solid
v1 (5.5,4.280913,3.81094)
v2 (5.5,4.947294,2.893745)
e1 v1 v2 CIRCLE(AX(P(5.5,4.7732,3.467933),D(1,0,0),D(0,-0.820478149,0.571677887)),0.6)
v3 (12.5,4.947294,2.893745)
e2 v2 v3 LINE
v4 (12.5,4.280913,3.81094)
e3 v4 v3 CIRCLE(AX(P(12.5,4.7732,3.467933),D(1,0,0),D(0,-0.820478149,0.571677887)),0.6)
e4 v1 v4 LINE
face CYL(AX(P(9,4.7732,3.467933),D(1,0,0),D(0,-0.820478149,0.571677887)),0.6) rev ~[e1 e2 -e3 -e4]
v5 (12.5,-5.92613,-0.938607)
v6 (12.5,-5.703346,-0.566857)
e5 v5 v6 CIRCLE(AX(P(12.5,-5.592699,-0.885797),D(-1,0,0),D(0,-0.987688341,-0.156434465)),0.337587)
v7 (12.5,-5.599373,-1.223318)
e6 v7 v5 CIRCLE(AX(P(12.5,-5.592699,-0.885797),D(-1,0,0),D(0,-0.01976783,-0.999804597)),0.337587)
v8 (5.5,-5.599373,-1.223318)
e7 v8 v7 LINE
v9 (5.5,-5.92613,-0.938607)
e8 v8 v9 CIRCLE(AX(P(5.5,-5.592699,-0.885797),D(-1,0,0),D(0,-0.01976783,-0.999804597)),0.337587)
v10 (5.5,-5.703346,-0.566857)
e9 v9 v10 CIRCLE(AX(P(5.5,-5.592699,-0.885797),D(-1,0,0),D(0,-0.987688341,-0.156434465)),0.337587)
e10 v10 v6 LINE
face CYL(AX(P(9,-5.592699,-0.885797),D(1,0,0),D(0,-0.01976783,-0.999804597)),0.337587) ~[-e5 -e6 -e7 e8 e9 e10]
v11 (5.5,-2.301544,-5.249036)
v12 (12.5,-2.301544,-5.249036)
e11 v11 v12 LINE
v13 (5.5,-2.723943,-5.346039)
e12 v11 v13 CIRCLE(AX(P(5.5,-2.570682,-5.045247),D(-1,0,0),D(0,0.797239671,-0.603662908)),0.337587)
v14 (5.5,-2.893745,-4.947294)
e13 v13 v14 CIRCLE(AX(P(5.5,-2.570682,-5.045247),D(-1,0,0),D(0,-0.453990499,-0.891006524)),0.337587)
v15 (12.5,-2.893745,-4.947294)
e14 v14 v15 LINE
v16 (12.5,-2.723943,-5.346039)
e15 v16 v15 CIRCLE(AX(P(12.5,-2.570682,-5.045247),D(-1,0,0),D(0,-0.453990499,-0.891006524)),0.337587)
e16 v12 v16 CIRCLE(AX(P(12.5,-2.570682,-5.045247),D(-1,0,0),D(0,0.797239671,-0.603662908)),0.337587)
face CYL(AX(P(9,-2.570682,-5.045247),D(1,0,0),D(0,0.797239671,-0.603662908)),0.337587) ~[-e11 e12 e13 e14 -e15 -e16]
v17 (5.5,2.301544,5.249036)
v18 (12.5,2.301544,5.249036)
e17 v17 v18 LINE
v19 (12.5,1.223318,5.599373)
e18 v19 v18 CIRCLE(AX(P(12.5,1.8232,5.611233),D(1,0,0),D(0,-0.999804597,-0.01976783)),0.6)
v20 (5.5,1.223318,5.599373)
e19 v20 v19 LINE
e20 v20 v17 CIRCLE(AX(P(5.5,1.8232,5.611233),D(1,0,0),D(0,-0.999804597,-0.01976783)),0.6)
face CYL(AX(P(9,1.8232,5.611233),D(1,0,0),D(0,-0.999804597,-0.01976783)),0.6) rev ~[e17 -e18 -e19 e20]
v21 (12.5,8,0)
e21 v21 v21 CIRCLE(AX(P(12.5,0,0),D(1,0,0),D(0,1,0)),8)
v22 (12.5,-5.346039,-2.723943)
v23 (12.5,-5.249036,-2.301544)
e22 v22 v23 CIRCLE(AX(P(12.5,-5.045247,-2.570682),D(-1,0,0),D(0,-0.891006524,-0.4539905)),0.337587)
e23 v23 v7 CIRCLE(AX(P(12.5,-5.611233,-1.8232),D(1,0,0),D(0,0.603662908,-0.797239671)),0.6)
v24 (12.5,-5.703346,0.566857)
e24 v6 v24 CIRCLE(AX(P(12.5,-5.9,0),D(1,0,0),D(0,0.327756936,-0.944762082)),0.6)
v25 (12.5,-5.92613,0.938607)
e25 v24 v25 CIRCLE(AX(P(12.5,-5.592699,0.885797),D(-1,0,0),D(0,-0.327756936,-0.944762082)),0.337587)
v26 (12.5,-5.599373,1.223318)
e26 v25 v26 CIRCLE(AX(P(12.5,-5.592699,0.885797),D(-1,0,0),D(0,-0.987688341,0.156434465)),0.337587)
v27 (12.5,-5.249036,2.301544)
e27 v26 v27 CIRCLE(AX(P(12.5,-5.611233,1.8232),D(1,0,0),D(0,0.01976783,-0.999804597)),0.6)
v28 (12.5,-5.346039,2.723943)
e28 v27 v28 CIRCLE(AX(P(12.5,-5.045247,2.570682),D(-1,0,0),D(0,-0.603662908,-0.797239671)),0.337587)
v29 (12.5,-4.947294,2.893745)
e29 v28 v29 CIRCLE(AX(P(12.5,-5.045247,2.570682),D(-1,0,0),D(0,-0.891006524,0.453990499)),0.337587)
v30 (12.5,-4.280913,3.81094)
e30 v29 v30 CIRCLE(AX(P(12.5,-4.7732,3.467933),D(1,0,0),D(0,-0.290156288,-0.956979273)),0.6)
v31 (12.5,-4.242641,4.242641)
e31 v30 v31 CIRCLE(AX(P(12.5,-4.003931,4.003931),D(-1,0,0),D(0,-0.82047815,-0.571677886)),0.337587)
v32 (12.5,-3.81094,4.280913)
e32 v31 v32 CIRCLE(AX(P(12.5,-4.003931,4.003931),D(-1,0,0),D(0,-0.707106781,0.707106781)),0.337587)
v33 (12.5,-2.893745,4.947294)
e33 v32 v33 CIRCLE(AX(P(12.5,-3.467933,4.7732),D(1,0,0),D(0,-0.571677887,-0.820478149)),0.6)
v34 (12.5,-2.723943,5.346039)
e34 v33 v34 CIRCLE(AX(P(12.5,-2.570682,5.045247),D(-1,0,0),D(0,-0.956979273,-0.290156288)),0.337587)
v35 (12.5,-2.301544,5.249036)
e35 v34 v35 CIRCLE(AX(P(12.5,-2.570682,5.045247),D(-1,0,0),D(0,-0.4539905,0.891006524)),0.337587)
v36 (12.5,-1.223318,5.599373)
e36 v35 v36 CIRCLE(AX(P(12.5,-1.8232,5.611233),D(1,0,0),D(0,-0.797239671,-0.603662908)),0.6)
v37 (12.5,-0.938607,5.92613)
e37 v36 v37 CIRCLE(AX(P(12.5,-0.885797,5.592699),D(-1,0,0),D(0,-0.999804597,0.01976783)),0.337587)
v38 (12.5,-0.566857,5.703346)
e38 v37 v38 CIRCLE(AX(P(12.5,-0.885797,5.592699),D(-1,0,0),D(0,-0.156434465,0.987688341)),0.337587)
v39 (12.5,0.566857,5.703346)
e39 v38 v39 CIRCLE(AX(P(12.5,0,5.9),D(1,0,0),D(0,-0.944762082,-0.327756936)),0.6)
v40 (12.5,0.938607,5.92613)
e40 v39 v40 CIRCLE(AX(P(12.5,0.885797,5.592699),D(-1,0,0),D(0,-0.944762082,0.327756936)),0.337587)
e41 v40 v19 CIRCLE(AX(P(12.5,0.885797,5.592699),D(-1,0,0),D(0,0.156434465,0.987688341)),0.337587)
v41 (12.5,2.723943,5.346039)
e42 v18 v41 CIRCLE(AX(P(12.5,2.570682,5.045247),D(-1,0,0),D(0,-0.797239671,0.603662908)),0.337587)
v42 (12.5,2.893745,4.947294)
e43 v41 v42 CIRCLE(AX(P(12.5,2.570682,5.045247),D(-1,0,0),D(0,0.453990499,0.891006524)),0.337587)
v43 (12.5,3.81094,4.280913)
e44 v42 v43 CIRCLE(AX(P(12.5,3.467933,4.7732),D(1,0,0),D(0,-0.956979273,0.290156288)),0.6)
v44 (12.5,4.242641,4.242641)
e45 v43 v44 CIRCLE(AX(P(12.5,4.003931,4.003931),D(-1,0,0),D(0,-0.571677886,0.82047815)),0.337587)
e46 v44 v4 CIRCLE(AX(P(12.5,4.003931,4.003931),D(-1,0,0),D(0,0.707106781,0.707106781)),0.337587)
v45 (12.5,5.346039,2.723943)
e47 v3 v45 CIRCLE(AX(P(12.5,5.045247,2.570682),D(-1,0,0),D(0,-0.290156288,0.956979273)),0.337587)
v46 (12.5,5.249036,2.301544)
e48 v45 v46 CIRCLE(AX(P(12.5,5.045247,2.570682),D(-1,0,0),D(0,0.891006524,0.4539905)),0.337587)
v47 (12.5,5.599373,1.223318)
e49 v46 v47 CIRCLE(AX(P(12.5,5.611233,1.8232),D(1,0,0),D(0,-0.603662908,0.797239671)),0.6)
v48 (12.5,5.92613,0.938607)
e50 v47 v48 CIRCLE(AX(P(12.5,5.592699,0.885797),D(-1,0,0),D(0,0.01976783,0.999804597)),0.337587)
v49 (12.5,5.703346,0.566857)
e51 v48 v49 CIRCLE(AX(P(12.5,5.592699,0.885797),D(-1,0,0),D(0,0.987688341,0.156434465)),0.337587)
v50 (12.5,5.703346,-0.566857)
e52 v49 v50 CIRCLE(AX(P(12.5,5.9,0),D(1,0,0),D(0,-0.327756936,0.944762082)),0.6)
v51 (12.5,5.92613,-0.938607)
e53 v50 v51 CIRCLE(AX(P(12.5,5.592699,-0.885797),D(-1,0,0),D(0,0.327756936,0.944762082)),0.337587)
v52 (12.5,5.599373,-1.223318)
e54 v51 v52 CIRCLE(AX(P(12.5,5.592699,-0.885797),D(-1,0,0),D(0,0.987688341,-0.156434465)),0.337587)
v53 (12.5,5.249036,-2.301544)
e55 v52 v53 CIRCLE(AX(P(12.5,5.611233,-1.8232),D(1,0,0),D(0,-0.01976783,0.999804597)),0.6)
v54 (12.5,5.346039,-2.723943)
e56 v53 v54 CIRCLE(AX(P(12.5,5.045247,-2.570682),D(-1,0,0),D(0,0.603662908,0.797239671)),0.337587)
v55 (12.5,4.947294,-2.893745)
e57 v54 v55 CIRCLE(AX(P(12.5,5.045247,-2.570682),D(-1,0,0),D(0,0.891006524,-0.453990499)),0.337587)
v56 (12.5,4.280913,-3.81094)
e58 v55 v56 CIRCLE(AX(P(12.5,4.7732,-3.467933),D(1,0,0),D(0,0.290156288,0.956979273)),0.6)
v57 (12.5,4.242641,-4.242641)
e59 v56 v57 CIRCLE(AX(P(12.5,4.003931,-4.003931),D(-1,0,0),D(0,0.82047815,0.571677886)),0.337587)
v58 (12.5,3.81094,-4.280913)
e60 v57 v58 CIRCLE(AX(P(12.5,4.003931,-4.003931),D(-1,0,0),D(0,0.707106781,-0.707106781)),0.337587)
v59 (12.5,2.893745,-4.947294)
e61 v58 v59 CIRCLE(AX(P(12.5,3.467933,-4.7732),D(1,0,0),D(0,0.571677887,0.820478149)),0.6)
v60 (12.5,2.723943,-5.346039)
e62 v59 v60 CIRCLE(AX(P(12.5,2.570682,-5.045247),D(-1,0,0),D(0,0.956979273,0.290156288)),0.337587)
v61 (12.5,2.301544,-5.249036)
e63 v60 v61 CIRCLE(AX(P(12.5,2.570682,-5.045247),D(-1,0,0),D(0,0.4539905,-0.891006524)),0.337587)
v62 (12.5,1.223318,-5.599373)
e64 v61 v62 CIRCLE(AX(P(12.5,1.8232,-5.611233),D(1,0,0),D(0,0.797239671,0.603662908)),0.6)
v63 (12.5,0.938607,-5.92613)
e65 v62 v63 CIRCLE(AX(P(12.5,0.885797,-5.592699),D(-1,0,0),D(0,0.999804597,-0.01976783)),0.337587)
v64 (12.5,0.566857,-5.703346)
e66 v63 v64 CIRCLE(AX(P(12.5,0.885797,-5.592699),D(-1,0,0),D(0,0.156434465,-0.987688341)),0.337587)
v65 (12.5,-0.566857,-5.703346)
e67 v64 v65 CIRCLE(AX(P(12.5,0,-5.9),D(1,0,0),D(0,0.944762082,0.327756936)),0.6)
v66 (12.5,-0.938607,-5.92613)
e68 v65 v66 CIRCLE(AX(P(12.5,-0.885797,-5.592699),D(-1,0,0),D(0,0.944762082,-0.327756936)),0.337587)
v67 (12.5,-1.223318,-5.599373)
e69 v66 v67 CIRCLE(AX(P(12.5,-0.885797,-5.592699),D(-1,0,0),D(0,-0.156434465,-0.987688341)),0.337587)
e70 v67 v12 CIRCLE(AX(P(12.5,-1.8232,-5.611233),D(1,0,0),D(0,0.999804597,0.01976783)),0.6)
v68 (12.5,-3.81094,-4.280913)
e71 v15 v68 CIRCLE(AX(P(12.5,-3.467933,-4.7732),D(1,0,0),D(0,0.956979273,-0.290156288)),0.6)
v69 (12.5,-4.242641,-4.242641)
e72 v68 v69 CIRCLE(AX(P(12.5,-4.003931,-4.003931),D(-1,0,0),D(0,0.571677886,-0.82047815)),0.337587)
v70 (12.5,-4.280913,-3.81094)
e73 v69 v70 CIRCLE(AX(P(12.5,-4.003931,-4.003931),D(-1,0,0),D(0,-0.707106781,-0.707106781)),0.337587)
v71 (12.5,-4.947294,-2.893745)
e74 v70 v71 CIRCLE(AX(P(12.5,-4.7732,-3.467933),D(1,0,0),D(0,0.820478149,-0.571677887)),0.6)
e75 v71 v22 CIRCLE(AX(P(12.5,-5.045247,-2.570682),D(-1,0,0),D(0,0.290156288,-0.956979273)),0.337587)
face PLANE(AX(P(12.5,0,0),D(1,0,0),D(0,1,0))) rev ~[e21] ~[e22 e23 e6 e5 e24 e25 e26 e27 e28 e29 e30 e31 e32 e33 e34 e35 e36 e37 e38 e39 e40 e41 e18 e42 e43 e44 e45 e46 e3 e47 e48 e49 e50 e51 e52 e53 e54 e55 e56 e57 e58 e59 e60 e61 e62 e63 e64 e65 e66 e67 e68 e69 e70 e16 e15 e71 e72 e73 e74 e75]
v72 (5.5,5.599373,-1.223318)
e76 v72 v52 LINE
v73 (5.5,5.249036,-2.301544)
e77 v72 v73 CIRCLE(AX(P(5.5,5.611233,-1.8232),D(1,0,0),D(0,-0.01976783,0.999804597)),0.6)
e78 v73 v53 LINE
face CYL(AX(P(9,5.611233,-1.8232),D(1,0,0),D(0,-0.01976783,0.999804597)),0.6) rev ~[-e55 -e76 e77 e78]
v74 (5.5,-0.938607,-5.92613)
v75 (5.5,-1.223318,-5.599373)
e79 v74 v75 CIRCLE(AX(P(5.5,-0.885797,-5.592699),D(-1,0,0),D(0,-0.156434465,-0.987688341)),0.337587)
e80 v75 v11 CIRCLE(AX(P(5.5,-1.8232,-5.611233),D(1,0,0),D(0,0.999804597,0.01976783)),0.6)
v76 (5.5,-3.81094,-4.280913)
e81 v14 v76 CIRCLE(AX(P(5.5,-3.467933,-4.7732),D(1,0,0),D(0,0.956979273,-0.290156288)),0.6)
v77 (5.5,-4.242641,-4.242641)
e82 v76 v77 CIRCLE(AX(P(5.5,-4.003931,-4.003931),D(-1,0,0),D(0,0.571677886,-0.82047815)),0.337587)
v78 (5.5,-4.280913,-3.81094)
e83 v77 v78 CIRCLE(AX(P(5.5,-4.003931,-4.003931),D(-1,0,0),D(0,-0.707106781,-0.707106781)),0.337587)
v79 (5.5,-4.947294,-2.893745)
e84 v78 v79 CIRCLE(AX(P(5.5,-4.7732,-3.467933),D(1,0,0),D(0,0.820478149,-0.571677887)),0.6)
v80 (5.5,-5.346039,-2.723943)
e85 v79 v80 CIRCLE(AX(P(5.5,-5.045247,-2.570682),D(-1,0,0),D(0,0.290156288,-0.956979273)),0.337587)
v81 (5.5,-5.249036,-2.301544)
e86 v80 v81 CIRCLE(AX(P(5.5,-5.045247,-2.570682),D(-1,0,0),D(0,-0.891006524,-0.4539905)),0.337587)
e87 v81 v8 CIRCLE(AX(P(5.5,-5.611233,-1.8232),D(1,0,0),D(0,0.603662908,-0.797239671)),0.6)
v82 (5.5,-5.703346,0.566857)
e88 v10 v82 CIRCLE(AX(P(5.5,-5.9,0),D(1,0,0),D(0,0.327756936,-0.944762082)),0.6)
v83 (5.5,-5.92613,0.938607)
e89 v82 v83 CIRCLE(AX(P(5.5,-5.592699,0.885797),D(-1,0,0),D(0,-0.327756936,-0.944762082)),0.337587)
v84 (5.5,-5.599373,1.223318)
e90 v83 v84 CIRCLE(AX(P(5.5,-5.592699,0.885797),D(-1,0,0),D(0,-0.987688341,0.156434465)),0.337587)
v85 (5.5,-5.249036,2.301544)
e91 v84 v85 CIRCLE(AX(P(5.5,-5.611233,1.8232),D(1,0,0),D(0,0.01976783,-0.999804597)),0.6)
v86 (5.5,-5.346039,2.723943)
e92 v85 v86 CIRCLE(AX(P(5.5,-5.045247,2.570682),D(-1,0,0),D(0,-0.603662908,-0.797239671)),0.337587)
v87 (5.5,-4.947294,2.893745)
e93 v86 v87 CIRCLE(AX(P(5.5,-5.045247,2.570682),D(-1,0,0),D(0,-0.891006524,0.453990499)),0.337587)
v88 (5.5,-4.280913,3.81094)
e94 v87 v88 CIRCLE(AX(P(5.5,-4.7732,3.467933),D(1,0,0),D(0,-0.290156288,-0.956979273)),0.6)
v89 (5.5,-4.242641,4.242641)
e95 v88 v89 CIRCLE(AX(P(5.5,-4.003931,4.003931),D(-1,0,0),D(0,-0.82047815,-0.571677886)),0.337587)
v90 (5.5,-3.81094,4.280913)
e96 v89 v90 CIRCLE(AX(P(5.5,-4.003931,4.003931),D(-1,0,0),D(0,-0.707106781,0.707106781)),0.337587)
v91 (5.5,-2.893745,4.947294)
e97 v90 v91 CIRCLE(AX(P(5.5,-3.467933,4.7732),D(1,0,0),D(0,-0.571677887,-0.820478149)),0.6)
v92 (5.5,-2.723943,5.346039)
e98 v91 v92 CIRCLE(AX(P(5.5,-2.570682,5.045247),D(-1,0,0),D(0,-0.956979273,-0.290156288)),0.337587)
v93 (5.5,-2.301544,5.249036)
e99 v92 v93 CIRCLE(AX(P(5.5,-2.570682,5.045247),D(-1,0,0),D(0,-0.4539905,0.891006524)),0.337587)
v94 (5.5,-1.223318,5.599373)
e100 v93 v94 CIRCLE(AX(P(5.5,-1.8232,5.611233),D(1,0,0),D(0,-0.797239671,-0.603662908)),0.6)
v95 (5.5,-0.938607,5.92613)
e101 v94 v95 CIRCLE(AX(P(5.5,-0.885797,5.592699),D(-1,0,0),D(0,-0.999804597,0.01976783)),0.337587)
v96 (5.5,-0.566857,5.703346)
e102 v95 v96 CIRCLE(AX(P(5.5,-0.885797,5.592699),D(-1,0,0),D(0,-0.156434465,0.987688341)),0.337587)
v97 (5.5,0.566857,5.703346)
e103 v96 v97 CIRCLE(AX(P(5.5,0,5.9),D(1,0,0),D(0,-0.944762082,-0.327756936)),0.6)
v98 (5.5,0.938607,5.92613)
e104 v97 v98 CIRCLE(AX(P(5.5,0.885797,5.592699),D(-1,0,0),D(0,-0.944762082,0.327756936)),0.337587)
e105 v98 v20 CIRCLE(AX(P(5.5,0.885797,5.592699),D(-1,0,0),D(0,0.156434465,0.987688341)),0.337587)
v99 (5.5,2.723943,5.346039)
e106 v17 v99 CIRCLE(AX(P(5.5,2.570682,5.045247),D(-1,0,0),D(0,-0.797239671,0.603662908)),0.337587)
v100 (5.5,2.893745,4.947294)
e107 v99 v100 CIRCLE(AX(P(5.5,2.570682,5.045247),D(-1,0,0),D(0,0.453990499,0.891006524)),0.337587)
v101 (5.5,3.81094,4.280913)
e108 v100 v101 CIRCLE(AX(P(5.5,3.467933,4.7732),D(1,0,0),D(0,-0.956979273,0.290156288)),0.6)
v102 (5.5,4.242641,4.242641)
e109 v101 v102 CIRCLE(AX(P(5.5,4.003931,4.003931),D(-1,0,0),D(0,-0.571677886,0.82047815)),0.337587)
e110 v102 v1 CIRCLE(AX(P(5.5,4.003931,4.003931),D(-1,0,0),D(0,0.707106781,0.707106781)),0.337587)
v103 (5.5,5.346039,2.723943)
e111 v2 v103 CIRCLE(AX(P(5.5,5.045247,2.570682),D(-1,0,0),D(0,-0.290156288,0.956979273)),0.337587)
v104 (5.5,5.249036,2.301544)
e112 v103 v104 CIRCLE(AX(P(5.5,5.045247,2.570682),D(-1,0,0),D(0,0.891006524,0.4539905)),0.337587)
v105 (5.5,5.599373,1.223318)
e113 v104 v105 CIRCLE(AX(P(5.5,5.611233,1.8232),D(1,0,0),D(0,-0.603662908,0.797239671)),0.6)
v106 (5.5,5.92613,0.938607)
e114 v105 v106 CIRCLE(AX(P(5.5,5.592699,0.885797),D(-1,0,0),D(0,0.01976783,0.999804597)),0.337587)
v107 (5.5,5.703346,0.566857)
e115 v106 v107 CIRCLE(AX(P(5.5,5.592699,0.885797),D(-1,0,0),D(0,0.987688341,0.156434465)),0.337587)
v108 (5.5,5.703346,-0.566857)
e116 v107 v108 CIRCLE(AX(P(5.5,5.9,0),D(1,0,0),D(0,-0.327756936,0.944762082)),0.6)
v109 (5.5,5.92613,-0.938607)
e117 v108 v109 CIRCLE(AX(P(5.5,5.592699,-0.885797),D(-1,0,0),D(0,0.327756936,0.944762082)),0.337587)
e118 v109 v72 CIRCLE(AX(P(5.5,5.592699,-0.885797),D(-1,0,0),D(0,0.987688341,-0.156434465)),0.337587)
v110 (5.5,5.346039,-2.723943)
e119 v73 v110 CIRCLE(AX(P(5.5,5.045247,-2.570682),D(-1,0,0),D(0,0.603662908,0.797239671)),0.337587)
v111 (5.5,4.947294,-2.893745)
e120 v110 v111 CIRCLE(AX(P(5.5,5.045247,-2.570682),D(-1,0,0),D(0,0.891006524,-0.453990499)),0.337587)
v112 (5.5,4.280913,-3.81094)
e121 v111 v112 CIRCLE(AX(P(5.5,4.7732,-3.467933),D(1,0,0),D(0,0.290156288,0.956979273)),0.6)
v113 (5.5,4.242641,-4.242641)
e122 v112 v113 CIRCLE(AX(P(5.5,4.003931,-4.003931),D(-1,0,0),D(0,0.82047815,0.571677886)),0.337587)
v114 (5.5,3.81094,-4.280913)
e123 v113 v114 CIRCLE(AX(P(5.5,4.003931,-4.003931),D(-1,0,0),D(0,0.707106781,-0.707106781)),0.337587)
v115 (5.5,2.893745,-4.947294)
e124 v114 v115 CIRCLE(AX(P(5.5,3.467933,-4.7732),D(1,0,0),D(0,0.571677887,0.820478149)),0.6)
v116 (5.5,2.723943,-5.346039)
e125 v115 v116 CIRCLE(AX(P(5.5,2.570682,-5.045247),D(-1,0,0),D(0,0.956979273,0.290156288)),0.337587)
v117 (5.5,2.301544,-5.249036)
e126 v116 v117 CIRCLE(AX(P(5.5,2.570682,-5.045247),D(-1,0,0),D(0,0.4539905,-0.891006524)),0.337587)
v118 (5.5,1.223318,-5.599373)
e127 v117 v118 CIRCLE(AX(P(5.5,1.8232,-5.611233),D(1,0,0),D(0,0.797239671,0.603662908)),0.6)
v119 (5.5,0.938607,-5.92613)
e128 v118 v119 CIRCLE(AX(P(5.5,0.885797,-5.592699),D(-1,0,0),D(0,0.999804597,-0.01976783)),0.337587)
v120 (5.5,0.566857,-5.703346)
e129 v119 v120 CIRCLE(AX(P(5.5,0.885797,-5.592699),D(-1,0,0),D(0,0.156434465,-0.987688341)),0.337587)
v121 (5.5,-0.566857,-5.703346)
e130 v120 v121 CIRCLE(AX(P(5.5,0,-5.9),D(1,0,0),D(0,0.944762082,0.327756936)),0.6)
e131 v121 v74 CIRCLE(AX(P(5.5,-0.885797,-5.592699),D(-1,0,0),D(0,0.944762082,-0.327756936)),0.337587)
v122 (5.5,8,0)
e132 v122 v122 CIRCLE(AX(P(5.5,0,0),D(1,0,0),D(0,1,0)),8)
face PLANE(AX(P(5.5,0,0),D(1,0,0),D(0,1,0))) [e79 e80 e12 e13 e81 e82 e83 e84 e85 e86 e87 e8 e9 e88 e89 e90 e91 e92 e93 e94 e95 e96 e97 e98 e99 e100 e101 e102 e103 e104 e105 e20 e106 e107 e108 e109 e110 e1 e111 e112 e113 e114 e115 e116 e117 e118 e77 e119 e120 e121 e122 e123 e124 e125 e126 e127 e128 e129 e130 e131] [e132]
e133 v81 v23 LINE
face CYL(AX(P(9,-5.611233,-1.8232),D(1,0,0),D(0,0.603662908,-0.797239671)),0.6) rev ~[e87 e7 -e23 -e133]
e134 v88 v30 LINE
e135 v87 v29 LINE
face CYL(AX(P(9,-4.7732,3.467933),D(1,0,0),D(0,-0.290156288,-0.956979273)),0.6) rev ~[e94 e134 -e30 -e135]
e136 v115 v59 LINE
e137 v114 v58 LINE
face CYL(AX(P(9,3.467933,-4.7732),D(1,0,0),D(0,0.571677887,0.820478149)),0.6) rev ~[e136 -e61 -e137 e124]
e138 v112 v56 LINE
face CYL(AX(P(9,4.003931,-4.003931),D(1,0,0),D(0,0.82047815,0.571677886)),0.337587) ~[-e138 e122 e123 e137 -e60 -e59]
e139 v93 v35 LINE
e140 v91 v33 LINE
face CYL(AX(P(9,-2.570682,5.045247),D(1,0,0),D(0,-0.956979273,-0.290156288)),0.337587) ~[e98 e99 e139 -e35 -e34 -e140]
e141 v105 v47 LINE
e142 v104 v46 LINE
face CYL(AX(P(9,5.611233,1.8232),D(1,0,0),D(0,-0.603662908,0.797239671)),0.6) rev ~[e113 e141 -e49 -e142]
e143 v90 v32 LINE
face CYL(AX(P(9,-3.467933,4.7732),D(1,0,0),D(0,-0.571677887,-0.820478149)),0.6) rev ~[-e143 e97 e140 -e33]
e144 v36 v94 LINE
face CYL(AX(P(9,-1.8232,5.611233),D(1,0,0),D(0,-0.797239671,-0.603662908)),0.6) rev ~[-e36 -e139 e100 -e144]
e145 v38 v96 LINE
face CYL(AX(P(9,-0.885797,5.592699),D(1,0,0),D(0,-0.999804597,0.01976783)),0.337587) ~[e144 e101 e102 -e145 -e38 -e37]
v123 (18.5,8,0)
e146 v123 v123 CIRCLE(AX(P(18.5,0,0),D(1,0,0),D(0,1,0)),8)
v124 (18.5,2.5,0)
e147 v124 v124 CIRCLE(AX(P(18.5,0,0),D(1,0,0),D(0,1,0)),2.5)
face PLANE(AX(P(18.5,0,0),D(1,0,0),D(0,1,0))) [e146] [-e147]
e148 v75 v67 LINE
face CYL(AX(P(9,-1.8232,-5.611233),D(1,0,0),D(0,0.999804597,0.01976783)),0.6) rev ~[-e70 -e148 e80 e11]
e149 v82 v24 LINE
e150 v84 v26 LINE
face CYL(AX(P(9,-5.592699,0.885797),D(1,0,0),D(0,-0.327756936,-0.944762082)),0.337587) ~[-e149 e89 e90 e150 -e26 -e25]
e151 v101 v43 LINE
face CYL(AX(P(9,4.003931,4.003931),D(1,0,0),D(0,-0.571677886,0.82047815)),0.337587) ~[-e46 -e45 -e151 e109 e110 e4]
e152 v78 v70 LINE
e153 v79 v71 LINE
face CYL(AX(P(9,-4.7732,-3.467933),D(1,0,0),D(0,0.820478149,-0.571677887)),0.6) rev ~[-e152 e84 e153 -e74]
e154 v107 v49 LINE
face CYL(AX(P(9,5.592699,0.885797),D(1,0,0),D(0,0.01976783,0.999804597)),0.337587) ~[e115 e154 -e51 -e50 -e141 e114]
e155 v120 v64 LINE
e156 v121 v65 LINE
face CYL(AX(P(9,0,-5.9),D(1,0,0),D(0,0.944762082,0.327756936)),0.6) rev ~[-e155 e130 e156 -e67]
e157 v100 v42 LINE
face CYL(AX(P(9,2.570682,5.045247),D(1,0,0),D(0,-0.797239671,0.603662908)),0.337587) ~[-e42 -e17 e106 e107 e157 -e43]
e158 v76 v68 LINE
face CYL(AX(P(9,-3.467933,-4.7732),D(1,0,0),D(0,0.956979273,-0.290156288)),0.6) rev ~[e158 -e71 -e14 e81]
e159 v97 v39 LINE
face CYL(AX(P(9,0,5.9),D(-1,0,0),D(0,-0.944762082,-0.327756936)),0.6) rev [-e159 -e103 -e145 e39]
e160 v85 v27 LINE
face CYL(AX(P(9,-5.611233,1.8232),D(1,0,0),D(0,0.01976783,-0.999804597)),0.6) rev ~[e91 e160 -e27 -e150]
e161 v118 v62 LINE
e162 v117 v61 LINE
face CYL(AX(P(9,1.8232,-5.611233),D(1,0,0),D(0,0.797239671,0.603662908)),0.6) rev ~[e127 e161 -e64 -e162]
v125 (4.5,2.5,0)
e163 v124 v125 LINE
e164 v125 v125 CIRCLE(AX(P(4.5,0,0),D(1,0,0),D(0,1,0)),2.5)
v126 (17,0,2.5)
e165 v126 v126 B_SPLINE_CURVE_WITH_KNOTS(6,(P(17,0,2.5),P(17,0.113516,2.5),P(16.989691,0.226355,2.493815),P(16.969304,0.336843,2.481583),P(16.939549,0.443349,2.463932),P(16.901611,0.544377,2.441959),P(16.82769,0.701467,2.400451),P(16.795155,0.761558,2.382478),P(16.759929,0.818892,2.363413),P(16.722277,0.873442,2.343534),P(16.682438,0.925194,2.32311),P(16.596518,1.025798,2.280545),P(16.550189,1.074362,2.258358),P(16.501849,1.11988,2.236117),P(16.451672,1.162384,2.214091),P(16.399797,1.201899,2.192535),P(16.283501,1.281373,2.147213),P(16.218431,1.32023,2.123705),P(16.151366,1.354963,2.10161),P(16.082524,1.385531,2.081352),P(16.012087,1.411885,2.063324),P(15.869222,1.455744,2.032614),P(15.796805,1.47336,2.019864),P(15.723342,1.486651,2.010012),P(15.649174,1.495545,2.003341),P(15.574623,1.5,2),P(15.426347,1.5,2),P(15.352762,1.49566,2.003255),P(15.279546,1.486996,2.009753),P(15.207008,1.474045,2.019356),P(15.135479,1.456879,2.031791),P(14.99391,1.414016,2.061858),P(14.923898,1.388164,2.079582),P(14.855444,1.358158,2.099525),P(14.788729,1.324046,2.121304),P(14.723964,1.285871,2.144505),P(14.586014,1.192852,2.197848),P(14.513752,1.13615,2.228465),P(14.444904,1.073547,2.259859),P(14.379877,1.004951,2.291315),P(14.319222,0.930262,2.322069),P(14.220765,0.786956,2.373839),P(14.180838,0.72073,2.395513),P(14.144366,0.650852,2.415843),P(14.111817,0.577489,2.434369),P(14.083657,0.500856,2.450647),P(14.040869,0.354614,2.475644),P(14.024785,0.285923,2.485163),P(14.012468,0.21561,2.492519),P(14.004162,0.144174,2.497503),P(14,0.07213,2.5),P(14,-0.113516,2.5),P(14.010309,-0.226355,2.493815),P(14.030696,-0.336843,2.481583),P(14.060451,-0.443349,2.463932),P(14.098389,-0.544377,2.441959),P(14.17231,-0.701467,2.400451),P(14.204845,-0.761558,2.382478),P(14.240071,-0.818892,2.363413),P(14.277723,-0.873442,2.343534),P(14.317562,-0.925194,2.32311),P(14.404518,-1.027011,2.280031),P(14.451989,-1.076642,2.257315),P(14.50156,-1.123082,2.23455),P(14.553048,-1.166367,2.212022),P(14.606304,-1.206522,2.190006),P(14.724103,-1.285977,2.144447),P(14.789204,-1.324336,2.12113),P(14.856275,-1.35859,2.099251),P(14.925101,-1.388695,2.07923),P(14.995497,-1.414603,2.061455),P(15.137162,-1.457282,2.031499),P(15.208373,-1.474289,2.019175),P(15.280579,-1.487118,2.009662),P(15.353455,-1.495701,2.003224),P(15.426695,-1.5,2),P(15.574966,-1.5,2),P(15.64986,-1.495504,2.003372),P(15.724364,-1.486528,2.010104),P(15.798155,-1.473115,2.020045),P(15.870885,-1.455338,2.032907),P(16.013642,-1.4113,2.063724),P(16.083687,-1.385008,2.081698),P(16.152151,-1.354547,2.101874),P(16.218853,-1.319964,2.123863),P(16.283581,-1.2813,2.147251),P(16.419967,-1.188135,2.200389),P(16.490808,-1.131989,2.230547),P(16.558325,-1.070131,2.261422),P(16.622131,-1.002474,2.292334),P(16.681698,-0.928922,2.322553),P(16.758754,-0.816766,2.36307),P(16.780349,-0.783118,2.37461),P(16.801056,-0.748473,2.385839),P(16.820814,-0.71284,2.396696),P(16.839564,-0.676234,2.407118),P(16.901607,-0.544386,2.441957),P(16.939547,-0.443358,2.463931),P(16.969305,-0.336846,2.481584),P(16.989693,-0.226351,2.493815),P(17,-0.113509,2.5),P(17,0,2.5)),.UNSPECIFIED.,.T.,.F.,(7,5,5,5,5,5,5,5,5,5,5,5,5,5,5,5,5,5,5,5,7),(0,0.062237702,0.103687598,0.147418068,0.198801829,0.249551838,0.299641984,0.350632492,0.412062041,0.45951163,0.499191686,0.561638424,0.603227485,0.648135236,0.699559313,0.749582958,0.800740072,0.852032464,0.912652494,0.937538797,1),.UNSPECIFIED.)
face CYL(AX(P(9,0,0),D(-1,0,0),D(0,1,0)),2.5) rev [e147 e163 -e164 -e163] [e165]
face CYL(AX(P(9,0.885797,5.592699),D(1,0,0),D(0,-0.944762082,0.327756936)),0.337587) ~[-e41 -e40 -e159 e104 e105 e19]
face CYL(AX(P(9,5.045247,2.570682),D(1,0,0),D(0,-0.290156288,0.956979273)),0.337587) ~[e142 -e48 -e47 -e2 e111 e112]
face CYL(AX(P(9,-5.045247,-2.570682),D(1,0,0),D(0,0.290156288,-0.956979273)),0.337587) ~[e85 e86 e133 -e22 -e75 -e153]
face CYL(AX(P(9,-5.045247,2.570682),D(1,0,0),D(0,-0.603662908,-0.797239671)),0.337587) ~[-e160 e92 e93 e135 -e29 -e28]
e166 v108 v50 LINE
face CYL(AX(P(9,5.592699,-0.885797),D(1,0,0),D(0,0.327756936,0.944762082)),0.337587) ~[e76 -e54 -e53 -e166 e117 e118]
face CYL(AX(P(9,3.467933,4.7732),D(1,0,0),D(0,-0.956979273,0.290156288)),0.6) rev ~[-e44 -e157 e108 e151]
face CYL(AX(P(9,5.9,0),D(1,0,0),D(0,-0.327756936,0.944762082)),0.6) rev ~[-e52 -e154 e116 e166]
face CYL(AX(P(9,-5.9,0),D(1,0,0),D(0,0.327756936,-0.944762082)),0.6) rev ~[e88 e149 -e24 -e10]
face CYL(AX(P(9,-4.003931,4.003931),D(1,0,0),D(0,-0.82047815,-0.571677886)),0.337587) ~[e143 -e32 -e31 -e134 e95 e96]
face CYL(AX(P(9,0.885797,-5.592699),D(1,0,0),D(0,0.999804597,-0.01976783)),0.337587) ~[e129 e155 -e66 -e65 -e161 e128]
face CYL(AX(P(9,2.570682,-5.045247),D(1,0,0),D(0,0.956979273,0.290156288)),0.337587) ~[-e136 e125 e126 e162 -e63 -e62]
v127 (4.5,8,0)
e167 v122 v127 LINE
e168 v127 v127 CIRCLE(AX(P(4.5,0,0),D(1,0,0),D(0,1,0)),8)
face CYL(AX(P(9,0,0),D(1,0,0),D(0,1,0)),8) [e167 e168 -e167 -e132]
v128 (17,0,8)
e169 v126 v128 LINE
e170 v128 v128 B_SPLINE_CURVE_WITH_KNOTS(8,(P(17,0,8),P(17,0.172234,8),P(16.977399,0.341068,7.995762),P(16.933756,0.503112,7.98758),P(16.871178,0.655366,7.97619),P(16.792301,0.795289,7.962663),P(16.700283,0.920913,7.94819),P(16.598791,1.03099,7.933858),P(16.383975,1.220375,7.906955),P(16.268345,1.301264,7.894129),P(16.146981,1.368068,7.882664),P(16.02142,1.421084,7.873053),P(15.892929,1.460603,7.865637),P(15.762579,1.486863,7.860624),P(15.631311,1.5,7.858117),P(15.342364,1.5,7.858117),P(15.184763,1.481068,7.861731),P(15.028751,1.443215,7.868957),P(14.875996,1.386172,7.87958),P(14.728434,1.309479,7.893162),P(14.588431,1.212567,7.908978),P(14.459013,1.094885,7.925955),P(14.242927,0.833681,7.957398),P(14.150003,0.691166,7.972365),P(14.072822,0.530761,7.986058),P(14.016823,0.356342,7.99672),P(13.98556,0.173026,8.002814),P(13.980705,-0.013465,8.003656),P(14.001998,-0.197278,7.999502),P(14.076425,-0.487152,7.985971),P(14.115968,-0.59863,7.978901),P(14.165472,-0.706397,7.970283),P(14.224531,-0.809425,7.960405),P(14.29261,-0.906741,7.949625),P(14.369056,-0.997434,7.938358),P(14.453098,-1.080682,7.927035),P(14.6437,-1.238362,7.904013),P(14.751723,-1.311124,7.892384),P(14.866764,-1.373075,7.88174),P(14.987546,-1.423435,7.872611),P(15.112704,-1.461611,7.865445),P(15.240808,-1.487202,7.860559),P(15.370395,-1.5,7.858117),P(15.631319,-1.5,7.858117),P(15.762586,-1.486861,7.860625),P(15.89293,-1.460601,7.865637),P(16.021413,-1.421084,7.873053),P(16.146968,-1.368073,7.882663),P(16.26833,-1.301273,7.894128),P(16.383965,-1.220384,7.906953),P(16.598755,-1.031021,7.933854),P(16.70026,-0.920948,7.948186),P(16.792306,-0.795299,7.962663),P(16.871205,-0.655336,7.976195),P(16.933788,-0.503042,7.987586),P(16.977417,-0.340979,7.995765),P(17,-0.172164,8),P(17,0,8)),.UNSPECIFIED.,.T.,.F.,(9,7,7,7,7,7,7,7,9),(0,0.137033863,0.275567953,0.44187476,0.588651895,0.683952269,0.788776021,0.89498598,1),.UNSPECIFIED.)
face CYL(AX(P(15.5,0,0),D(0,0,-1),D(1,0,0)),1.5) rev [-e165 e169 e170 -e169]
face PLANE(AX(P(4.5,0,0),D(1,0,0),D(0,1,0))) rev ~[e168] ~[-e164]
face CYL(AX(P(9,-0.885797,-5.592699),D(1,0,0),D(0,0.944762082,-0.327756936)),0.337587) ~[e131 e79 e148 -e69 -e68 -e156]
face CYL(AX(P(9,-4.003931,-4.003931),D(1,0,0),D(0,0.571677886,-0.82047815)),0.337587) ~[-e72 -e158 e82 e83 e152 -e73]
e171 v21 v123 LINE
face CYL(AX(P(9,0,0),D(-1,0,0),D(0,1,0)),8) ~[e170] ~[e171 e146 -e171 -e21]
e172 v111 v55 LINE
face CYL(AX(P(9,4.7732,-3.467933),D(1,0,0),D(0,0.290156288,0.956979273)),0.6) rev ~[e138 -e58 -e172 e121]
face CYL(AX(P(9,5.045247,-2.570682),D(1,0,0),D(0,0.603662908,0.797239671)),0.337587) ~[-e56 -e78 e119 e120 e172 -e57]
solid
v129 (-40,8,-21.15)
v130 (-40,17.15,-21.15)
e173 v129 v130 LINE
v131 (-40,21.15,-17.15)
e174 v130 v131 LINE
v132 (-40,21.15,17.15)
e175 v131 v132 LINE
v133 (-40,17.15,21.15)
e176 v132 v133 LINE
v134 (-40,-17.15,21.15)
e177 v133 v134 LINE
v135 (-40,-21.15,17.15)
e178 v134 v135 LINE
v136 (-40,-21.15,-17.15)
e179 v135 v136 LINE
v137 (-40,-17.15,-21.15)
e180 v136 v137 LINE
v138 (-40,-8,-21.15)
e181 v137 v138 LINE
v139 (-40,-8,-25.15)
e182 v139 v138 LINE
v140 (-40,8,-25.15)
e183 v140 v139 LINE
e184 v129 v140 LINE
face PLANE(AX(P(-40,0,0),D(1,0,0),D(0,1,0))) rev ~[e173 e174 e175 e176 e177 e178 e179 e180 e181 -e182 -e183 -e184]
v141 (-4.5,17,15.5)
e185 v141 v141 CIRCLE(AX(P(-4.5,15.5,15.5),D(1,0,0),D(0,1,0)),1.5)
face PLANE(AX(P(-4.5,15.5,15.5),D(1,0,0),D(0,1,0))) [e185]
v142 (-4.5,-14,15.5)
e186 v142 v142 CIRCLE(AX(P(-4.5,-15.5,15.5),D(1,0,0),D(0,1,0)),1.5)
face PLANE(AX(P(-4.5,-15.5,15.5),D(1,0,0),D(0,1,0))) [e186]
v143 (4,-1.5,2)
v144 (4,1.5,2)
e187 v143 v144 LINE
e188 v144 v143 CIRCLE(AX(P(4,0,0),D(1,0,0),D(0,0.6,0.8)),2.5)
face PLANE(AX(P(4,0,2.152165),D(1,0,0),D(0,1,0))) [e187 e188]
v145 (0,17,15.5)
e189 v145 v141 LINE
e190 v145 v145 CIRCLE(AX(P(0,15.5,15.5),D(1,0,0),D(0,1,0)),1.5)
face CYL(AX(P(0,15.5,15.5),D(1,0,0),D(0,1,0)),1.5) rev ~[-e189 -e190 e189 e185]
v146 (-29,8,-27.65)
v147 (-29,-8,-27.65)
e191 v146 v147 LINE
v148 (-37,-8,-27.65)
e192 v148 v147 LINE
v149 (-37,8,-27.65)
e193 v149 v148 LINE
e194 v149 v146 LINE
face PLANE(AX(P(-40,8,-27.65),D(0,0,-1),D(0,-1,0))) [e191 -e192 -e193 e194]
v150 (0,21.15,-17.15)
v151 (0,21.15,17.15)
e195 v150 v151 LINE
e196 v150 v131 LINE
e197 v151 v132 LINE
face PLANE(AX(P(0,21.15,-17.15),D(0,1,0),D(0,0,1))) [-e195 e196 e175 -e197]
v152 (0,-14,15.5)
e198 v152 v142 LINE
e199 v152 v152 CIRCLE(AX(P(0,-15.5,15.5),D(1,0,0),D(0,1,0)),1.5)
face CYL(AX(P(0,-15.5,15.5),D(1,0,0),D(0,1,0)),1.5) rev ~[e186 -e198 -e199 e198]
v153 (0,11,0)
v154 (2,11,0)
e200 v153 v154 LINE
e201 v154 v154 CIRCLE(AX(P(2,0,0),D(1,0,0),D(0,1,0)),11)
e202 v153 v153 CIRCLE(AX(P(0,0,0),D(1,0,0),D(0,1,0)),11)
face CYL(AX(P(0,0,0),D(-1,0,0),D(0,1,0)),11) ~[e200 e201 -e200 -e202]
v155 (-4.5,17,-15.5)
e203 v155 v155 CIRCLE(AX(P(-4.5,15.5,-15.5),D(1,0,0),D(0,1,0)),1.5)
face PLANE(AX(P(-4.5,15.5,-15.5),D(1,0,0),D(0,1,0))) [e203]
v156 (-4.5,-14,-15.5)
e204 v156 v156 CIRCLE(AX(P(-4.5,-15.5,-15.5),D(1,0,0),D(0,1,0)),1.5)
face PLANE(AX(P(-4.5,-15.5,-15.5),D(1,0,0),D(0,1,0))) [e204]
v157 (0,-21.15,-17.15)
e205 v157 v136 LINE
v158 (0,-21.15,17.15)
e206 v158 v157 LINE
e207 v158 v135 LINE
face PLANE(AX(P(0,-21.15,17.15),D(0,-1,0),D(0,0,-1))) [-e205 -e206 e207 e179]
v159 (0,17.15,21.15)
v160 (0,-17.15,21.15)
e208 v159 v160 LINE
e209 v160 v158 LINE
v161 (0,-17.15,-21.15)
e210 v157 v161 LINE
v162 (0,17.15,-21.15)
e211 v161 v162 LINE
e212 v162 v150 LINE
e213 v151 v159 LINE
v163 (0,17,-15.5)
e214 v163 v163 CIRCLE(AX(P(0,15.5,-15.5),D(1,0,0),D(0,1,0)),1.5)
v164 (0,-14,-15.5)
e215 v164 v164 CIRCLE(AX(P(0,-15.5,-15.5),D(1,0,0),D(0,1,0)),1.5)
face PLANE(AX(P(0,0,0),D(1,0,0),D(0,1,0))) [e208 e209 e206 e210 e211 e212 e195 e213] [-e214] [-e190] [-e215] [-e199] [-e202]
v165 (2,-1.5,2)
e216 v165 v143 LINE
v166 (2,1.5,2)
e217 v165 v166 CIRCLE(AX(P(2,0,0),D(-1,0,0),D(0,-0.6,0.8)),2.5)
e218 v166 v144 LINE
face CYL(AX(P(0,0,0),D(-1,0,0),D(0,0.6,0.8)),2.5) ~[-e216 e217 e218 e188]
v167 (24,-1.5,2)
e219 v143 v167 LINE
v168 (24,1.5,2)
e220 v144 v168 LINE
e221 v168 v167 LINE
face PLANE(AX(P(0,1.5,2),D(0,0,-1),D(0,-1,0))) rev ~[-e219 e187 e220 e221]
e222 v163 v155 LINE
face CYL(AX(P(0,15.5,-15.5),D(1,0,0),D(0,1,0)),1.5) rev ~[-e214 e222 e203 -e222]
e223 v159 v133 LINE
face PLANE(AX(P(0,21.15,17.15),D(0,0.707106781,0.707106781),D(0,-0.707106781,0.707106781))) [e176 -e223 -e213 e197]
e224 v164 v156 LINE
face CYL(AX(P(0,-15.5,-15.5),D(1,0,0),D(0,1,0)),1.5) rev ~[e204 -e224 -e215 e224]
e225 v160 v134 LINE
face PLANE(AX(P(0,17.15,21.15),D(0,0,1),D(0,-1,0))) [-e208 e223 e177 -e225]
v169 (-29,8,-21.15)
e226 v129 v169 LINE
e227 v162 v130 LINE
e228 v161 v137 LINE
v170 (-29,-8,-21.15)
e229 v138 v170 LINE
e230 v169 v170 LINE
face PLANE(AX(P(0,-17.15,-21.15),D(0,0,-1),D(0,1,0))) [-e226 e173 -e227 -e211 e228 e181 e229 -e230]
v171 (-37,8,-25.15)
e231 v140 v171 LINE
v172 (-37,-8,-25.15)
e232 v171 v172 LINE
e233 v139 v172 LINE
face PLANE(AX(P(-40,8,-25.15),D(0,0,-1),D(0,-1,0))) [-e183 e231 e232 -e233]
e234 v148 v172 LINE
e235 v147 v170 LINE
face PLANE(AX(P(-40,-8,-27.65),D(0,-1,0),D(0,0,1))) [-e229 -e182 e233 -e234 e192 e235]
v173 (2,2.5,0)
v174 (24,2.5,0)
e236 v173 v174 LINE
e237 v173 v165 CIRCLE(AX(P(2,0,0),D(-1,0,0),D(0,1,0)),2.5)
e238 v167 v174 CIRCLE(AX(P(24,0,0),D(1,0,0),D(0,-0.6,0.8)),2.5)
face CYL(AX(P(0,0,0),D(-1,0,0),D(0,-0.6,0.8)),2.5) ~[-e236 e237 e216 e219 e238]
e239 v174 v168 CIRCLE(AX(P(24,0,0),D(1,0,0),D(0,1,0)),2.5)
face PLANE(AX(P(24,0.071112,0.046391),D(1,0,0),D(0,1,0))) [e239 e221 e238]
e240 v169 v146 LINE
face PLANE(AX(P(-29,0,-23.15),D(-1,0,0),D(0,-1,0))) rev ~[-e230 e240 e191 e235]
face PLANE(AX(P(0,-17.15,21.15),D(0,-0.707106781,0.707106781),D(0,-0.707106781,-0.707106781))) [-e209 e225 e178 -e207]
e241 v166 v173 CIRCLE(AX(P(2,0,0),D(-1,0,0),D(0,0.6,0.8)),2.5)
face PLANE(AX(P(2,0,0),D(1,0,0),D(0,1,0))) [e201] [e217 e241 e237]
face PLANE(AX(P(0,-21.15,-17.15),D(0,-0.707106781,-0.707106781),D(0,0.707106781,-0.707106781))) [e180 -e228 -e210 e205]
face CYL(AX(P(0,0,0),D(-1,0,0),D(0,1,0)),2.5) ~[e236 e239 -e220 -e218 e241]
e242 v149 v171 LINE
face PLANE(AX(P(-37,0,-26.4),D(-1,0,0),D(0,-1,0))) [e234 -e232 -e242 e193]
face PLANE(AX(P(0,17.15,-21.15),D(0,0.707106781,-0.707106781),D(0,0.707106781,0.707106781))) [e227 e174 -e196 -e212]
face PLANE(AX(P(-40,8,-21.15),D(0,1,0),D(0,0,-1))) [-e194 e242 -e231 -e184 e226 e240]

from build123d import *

# Parameters (mm, degrees)
F0_R           = 1.5
F0_R_2         = 11
F1_DEPTH       = 40
F2_DEPTH       = 24
F3_DEPTH       = 4
F4_DEPTH       = 2
F5_DEPTH       = 4.5
F6_W           = 16
F6_H           = 4
F6_H_2         = 2.5
F7_DEPTH       = 11
F8_DEPTH       = 3
F10_R          = 8
F10_R_2        = 2.5
F11_DEPTH      = 4.5
F11_DEPTH_BACK = 9.5
F12_R          = 8
F13_DEPTH      = 3.5
F14_R          = 1.5
F15_DEPTH      = 25


with BuildPart() as f1:
    # F0 (on Right) → F1 (new body)
    with BuildSketch(Plane.YZ):
        Polygon((-17.15, 21.15), (-19.15, 19.15), (-21.15, 17.15), (-21.15, 0), (-21.15, -17.15), (-19.15, -19.15), (-17.15, -21.15), (0, -21.15), (17.15, -21.15), (19.15, -19.15), (21.15, -17.15), (21.15, 0), (21.15, 17.15), (19.15, 19.15), (17.15, 21.15), (0, 21.15), align=None)
        with Locations((-15.5, -15.5)):
            Circle(F0_R, mode=Mode.SUBTRACT)
        with Locations((15.5, -15.5)):
            Circle(F0_R, mode=Mode.SUBTRACT)
        with Locations((-15.5, 15.5)):
            Circle(F0_R, mode=Mode.SUBTRACT)
        Circle(F0_R_2, mode=Mode.SUBTRACT)
        with Locations((15.5, 15.5)):
            Circle(F0_R, mode=Mode.SUBTRACT)
        Circle(F0_R_2)
        with BuildLine():
            ThreePointArc((1.5, 2), (2.2360679775, 1.1180339887), (2.5, 0))
            ThreePointArc((2.5, 0), (-1.1180339887, -2.2360679775), (-1.5, 2))
            ThreePointArc((-1.5, 2), (0, 2.5), (1.5, 2))
        make_face(mode=Mode.SUBTRACT)
        with BuildLine():
            ThreePointArc((-1.5, 2), (-1.1180339887, -2.2360679775), (2.5, 0))
            ThreePointArc((2.5, 0), (2.2360679775, 1.1180339887), (1.5, 2))
            Line((1.5, 2), (-1.5, 2))
        make_face()
        with Locations((15.5, 15.5)):
            Circle(F0_R)
        with Locations((15.5, -15.5)):
            Circle(F0_R)
        with Locations((-15.5, -15.5)):
            Circle(F0_R)
        with Locations((-15.5, 15.5)):
            Circle(F0_R)
        with BuildLine():
            Line((-1.5, 2), (1.5, 2))
            ThreePointArc((1.5, 2), (0, 2.5), (-1.5, 2))
        make_face()
    extrude(amount=-F1_DEPTH)

    # F0 (on Right) → F2 (join)
    with BuildSketch(Plane.YZ):
        with BuildLine():
            ThreePointArc((-1.5, 2), (-1.1180339887, -2.2360679775), (2.5, 0))
            ThreePointArc((2.5, 0), (2.2360679775, 1.1180339887), (1.5, 2))
            Line((1.5, 2), (-1.5, 2))
        make_face()
    extrude(amount=F2_DEPTH)

    # F0 (on Right) → F3 (join)
    with BuildSketch(Plane.YZ):
        with BuildLine():
            Line((-1.5, 2), (1.5, 2))
            ThreePointArc((1.5, 2), (0, 2.5), (-1.5, 2))
        make_face()
    extrude(amount=F3_DEPTH)

    # F0 (on Right) → F4 (join)
    with BuildSketch(Plane.YZ):
        Circle(F0_R_2)
        with BuildLine():
            ThreePointArc((1.5, 2), (2.2360679775, 1.1180339887), (2.5, 0))
            ThreePointArc((2.5, 0), (-1.1180339887, -2.2360679775), (-1.5, 2))
            ThreePointArc((-1.5, 2), (0, 2.5), (1.5, 2))
        make_face(mode=Mode.SUBTRACT)
    extrude(amount=F4_DEPTH)

    # F0 (on Right) → F5 (cut)
    with BuildSketch(Plane.YZ):
        with Locations((-15.5, 15.5)):
            Circle(F0_R)
        with Locations((15.5, 15.5)):
            Circle(F0_R)
        with Locations((15.5, -15.5)):
            Circle(F0_R)
        with Locations((-15.5, -15.5)):
            Circle(F0_R)
    extrude(amount=-F5_DEPTH, mode=Mode.SUBTRACT)

    # F6 (on face) → F7 (join)
    with BuildSketch(Plane(origin=(-40, 0, 0), x_dir=(0, -1, 0), z_dir=(-1, 0, 0))):
        with Locations((0, -23.15)):
            Rectangle(F6_W, F6_H)
        with Locations((0, -26.4)):
            Rectangle(F6_W, F6_H_2)
    extrude(amount=-F7_DEPTH)

    # F6 (on face) → F8 (cut)
    with BuildSketch(Plane(origin=(-40, 0, 0), x_dir=(0, -1, 0), z_dir=(-1, 0, 0))):
        with Locations((0, -26.4)):
            Rectangle(F6_W, F6_H_2)
    extrude(amount=-F8_DEPTH, mode=Mode.SUBTRACT)


with BuildPart() as f11:
    # F10 (on offset) → F11 (new body, two sides)
    with BuildSketch(Plane.YZ.offset(9)) as f11_sk:
        Circle(F10_R)
        Circle(F10_R_2, mode=Mode.SUBTRACT)
    extrude(amount=-F11_DEPTH)
    extrude(f11_sk.sketch, amount=F11_DEPTH_BACK)

    # F12 (on offset) → F13 (cut, symmetric)
    with BuildSketch(Plane.YZ.offset(9)):
        Circle(F12_R)
        with BuildLine():
            ThreePointArc((-0.9386067902, 5.9261300436), (-0.7122616293, 5.8822689812), (-0.5668572491, 5.7033458387))
            ThreePointArc((-0.5668572491, 5.7033458387), (0, 5.3), (0.5668572491, 5.7033458387))
            ThreePointArc((0.5668572491, 5.7033458387), (0.7122616293, 5.8822689812), (0.9386067902, 5.9261300436))
            ThreePointArc((0.9386067902, 5.9261300436), (1.1403200169, 5.8144711931), (1.2233175084, 5.599372748))
            ThreePointArc((1.2233175084, 5.599372748), (1.6377900702, 5.0405995364), (2.3015440695, 5.2490357013))
            ThreePointArc((2.3015440695, 5.2490357013), (2.4951221445, 5.3742692973), (2.7239429984, 5.3460391451))
            ThreePointArc((2.7239429984, 5.3460391451), (2.8812791947, 5.1775124527), (2.8937454248, 4.9472940395))
            ThreePointArc((2.8937454248, 4.9472940395), (3.1152618372, 4.2877900702), (3.8109397206, 4.2809133772))
            ThreePointArc((3.8109397206, 4.2809133772), (4.0337427197, 4.3401986898), (4.2426406871, 4.2426406871))
            ThreePointArc((4.2426406871, 4.2426406871), (4.3401986898, 4.0337427197), (4.2809133772, 3.8109397206))
            ThreePointArc((4.2809133772, 3.8109397206), (4.2877900702, 3.1152618372), (4.9472940395, 2.8937454248))
            ThreePointArc((4.9472940395, 2.8937454248), (5.1775124527, 2.8812791947), (5.3460391451, 2.7239429984))
            ThreePointArc((5.3460391451, 2.7239429984), (5.3742692973, 2.4951221445), (5.2490357013, 2.3015440695))
            ThreePointArc((5.2490357013, 2.3015440695), (5.0405995364, 1.6377900702), (5.599372748, 1.2233175084))
            ThreePointArc((5.599372748, 1.2233175084), (5.8144711931, 1.1403200169), (5.9261300436, 0.9386067902))
            ThreePointArc((5.9261300436, 0.9386067902), (5.8822689812, 0.7122616293), (5.7033458387, 0.5668572491))
            ThreePointArc((5.7033458387, 0.5668572491), (5.3, 0), (5.7033458387, -0.5668572491))
            ThreePointArc((5.7033458387, -0.5668572491), (5.8822689812, -0.7122616293), (5.9261300436, -0.9386067902))
            ThreePointArc((5.9261300436, -0.9386067902), (5.8144711931, -1.1403200169), (5.599372748, -1.2233175084))
            ThreePointArc((5.599372748, -1.2233175084), (5.0405995364, -1.6377900702), (5.2490357013, -2.3015440695))
            ThreePointArc((5.2490357013, -2.3015440695), (5.3742692973, -2.4951221445), (5.3460391451, -2.7239429984))
            ThreePointArc((5.3460391451, -2.7239429984), (5.1775124527, -2.8812791947), (4.9472940395, -2.8937454248))
            ThreePointArc((4.9472940395, -2.8937454248), (4.2877900702, -3.1152618372), (4.2809133772, -3.8109397206))
            ThreePointArc((4.2809133772, -3.8109397206), (4.3401986898, -4.0337427197), (4.2426406871, -4.2426406871))
            ThreePointArc((4.2426406871, -4.2426406871), (4.0337427197, -4.3401986898), (3.8109397206, -4.2809133772))
            ThreePointArc((3.8109397206, -4.2809133772), (3.1152618372, -4.2877900702), (2.8937454248, -4.9472940395))
            ThreePointArc((2.8937454248, -4.9472940395), (2.8812791947, -5.1775124527), (2.7239429984, -5.3460391451))
            ThreePointArc((2.7239429984, -5.3460391451), (2.4951221445, -5.3742692973), (2.3015440695, -5.2490357013))
            ThreePointArc((2.3015440695, -5.2490357013), (1.6377900702, -5.0405995364), (1.2233175084, -5.599372748))
            ThreePointArc((1.2233175084, -5.599372748), (1.1403200169, -5.8144711931), (0.9386067902, -5.9261300436))
            ThreePointArc((0.9386067902, -5.9261300436), (0.7122616293, -5.8822689812), (0.5668572491, -5.7033458387))
            ThreePointArc((0.5668572491, -5.7033458387), (0, -5.3), (-0.5668572491, -5.7033458387))
            ThreePointArc((-0.5668572491, -5.7033458387), (-0.7122616293, -5.8822689812), (-0.9386067902, -5.9261300436))
            ThreePointArc((-0.9386067902, -5.9261300436), (-1.1403200169, -5.8144711931), (-1.2233175084, -5.599372748))
            ThreePointArc((-1.2233175084, -5.599372748), (-1.6377900702, -5.0405995364), (-2.3015440695, -5.2490357013))
            ThreePointArc((-2.3015440695, -5.2490357013), (-2.4951221445, -5.3742692973), (-2.7239429984, -5.3460391451))
            ThreePointArc((-2.7239429984, -5.3460391451), (-2.8812791947, -5.1775124527), (-2.8937454248, -4.9472940395))
            ThreePointArc((-2.8937454248, -4.9472940395), (-3.1152618372, -4.2877900702), (-3.8109397206, -4.2809133772))
            ThreePointArc((-3.8109397206, -4.2809133772), (-4.0337427197, -4.3401986898), (-4.2426406871, -4.2426406871))
            ThreePointArc((-4.2426406871, -4.2426406871), (-4.3401986898, -4.0337427197), (-4.2809133772, -3.8109397206))
            ThreePointArc((-4.2809133772, -3.8109397206), (-4.2877900702, -3.1152618372), (-4.9472940395, -2.8937454248))
            ThreePointArc((-4.9472940395, -2.8937454248), (-5.1775124527, -2.8812791947), (-5.3460391451, -2.7239429984))
            ThreePointArc((-5.3460391451, -2.7239429984), (-5.3742692973, -2.4951221445), (-5.2490357013, -2.3015440695))
            ThreePointArc((-5.2490357013, -2.3015440695), (-5.0405995364, -1.6377900702), (-5.599372748, -1.2233175084))
            ThreePointArc((-5.599372748, -1.2233175084), (-5.8144711931, -1.1403200169), (-5.9261300436, -0.9386067902))
            ThreePointArc((-5.9261300436, -0.9386067902), (-5.8822689812, -0.7122616293), (-5.7033458387, -0.5668572491))
            ThreePointArc((-5.7033458387, -0.5668572491), (-5.3, 0), (-5.7033458387, 0.5668572491))
            ThreePointArc((-5.7033458387, 0.5668572491), (-5.8822689812, 0.7122616293), (-5.9261300436, 0.9386067902))
            ThreePointArc((-5.9261300436, 0.9386067902), (-5.8144711931, 1.1403200169), (-5.599372748, 1.2233175084))
            ThreePointArc((-5.599372748, 1.2233175084), (-5.0405995364, 1.6377900702), (-5.2490357013, 2.3015440695))
            ThreePointArc((-5.2490357013, 2.3015440695), (-5.3742692973, 2.4951221445), (-5.3460391451, 2.7239429984))
            ThreePointArc((-5.3460391451, 2.7239429984), (-5.1775124527, 2.8812791947), (-4.9472940395, 2.8937454248))
            ThreePointArc((-4.9472940395, 2.8937454248), (-4.2877900702, 3.1152618372), (-4.2809133772, 3.8109397206))
            ThreePointArc((-4.2809133772, 3.8109397206), (-4.3401986898, 4.0337427197), (-4.2426406871, 4.2426406871))
            ThreePointArc((-4.2426406871, 4.2426406871), (-4.0337427197, 4.3401986898), (-3.8109397206, 4.2809133772))
            ThreePointArc((-3.8109397206, 4.2809133772), (-3.1152618372, 4.2877900702), (-2.8937454248, 4.9472940395))
            ThreePointArc((-2.8937454248, 4.9472940395), (-2.8812791947, 5.1775124527), (-2.7239429984, 5.3460391451))
            ThreePointArc((-2.7239429984, 5.3460391451), (-2.4951221445, 5.3742692973), (-2.3015440695, 5.2490357013))
            ThreePointArc((-2.3015440695, 5.2490357013), (-1.6377900702, 5.0405995364), (-1.2233175084, 5.599372748))
            ThreePointArc((-1.2233175084, 5.599372748), (-1.1403200169, 5.8144711931), (-0.9386067902, 5.9261300436))
        make_face(mode=Mode.SUBTRACT)
    extrude(amount=F13_DEPTH, both=True, mode=Mode.SUBTRACT)

    # F14 (on Top) → F15 (cut)
    with BuildSketch(Plane.XY):
        with Locations((15.5, 0)):
            Circle(F14_R)
    extrude(amount=F15_DEPTH, mode=Mode.SUBTRACT)


solid = Compound([f1.part, f11.part])
